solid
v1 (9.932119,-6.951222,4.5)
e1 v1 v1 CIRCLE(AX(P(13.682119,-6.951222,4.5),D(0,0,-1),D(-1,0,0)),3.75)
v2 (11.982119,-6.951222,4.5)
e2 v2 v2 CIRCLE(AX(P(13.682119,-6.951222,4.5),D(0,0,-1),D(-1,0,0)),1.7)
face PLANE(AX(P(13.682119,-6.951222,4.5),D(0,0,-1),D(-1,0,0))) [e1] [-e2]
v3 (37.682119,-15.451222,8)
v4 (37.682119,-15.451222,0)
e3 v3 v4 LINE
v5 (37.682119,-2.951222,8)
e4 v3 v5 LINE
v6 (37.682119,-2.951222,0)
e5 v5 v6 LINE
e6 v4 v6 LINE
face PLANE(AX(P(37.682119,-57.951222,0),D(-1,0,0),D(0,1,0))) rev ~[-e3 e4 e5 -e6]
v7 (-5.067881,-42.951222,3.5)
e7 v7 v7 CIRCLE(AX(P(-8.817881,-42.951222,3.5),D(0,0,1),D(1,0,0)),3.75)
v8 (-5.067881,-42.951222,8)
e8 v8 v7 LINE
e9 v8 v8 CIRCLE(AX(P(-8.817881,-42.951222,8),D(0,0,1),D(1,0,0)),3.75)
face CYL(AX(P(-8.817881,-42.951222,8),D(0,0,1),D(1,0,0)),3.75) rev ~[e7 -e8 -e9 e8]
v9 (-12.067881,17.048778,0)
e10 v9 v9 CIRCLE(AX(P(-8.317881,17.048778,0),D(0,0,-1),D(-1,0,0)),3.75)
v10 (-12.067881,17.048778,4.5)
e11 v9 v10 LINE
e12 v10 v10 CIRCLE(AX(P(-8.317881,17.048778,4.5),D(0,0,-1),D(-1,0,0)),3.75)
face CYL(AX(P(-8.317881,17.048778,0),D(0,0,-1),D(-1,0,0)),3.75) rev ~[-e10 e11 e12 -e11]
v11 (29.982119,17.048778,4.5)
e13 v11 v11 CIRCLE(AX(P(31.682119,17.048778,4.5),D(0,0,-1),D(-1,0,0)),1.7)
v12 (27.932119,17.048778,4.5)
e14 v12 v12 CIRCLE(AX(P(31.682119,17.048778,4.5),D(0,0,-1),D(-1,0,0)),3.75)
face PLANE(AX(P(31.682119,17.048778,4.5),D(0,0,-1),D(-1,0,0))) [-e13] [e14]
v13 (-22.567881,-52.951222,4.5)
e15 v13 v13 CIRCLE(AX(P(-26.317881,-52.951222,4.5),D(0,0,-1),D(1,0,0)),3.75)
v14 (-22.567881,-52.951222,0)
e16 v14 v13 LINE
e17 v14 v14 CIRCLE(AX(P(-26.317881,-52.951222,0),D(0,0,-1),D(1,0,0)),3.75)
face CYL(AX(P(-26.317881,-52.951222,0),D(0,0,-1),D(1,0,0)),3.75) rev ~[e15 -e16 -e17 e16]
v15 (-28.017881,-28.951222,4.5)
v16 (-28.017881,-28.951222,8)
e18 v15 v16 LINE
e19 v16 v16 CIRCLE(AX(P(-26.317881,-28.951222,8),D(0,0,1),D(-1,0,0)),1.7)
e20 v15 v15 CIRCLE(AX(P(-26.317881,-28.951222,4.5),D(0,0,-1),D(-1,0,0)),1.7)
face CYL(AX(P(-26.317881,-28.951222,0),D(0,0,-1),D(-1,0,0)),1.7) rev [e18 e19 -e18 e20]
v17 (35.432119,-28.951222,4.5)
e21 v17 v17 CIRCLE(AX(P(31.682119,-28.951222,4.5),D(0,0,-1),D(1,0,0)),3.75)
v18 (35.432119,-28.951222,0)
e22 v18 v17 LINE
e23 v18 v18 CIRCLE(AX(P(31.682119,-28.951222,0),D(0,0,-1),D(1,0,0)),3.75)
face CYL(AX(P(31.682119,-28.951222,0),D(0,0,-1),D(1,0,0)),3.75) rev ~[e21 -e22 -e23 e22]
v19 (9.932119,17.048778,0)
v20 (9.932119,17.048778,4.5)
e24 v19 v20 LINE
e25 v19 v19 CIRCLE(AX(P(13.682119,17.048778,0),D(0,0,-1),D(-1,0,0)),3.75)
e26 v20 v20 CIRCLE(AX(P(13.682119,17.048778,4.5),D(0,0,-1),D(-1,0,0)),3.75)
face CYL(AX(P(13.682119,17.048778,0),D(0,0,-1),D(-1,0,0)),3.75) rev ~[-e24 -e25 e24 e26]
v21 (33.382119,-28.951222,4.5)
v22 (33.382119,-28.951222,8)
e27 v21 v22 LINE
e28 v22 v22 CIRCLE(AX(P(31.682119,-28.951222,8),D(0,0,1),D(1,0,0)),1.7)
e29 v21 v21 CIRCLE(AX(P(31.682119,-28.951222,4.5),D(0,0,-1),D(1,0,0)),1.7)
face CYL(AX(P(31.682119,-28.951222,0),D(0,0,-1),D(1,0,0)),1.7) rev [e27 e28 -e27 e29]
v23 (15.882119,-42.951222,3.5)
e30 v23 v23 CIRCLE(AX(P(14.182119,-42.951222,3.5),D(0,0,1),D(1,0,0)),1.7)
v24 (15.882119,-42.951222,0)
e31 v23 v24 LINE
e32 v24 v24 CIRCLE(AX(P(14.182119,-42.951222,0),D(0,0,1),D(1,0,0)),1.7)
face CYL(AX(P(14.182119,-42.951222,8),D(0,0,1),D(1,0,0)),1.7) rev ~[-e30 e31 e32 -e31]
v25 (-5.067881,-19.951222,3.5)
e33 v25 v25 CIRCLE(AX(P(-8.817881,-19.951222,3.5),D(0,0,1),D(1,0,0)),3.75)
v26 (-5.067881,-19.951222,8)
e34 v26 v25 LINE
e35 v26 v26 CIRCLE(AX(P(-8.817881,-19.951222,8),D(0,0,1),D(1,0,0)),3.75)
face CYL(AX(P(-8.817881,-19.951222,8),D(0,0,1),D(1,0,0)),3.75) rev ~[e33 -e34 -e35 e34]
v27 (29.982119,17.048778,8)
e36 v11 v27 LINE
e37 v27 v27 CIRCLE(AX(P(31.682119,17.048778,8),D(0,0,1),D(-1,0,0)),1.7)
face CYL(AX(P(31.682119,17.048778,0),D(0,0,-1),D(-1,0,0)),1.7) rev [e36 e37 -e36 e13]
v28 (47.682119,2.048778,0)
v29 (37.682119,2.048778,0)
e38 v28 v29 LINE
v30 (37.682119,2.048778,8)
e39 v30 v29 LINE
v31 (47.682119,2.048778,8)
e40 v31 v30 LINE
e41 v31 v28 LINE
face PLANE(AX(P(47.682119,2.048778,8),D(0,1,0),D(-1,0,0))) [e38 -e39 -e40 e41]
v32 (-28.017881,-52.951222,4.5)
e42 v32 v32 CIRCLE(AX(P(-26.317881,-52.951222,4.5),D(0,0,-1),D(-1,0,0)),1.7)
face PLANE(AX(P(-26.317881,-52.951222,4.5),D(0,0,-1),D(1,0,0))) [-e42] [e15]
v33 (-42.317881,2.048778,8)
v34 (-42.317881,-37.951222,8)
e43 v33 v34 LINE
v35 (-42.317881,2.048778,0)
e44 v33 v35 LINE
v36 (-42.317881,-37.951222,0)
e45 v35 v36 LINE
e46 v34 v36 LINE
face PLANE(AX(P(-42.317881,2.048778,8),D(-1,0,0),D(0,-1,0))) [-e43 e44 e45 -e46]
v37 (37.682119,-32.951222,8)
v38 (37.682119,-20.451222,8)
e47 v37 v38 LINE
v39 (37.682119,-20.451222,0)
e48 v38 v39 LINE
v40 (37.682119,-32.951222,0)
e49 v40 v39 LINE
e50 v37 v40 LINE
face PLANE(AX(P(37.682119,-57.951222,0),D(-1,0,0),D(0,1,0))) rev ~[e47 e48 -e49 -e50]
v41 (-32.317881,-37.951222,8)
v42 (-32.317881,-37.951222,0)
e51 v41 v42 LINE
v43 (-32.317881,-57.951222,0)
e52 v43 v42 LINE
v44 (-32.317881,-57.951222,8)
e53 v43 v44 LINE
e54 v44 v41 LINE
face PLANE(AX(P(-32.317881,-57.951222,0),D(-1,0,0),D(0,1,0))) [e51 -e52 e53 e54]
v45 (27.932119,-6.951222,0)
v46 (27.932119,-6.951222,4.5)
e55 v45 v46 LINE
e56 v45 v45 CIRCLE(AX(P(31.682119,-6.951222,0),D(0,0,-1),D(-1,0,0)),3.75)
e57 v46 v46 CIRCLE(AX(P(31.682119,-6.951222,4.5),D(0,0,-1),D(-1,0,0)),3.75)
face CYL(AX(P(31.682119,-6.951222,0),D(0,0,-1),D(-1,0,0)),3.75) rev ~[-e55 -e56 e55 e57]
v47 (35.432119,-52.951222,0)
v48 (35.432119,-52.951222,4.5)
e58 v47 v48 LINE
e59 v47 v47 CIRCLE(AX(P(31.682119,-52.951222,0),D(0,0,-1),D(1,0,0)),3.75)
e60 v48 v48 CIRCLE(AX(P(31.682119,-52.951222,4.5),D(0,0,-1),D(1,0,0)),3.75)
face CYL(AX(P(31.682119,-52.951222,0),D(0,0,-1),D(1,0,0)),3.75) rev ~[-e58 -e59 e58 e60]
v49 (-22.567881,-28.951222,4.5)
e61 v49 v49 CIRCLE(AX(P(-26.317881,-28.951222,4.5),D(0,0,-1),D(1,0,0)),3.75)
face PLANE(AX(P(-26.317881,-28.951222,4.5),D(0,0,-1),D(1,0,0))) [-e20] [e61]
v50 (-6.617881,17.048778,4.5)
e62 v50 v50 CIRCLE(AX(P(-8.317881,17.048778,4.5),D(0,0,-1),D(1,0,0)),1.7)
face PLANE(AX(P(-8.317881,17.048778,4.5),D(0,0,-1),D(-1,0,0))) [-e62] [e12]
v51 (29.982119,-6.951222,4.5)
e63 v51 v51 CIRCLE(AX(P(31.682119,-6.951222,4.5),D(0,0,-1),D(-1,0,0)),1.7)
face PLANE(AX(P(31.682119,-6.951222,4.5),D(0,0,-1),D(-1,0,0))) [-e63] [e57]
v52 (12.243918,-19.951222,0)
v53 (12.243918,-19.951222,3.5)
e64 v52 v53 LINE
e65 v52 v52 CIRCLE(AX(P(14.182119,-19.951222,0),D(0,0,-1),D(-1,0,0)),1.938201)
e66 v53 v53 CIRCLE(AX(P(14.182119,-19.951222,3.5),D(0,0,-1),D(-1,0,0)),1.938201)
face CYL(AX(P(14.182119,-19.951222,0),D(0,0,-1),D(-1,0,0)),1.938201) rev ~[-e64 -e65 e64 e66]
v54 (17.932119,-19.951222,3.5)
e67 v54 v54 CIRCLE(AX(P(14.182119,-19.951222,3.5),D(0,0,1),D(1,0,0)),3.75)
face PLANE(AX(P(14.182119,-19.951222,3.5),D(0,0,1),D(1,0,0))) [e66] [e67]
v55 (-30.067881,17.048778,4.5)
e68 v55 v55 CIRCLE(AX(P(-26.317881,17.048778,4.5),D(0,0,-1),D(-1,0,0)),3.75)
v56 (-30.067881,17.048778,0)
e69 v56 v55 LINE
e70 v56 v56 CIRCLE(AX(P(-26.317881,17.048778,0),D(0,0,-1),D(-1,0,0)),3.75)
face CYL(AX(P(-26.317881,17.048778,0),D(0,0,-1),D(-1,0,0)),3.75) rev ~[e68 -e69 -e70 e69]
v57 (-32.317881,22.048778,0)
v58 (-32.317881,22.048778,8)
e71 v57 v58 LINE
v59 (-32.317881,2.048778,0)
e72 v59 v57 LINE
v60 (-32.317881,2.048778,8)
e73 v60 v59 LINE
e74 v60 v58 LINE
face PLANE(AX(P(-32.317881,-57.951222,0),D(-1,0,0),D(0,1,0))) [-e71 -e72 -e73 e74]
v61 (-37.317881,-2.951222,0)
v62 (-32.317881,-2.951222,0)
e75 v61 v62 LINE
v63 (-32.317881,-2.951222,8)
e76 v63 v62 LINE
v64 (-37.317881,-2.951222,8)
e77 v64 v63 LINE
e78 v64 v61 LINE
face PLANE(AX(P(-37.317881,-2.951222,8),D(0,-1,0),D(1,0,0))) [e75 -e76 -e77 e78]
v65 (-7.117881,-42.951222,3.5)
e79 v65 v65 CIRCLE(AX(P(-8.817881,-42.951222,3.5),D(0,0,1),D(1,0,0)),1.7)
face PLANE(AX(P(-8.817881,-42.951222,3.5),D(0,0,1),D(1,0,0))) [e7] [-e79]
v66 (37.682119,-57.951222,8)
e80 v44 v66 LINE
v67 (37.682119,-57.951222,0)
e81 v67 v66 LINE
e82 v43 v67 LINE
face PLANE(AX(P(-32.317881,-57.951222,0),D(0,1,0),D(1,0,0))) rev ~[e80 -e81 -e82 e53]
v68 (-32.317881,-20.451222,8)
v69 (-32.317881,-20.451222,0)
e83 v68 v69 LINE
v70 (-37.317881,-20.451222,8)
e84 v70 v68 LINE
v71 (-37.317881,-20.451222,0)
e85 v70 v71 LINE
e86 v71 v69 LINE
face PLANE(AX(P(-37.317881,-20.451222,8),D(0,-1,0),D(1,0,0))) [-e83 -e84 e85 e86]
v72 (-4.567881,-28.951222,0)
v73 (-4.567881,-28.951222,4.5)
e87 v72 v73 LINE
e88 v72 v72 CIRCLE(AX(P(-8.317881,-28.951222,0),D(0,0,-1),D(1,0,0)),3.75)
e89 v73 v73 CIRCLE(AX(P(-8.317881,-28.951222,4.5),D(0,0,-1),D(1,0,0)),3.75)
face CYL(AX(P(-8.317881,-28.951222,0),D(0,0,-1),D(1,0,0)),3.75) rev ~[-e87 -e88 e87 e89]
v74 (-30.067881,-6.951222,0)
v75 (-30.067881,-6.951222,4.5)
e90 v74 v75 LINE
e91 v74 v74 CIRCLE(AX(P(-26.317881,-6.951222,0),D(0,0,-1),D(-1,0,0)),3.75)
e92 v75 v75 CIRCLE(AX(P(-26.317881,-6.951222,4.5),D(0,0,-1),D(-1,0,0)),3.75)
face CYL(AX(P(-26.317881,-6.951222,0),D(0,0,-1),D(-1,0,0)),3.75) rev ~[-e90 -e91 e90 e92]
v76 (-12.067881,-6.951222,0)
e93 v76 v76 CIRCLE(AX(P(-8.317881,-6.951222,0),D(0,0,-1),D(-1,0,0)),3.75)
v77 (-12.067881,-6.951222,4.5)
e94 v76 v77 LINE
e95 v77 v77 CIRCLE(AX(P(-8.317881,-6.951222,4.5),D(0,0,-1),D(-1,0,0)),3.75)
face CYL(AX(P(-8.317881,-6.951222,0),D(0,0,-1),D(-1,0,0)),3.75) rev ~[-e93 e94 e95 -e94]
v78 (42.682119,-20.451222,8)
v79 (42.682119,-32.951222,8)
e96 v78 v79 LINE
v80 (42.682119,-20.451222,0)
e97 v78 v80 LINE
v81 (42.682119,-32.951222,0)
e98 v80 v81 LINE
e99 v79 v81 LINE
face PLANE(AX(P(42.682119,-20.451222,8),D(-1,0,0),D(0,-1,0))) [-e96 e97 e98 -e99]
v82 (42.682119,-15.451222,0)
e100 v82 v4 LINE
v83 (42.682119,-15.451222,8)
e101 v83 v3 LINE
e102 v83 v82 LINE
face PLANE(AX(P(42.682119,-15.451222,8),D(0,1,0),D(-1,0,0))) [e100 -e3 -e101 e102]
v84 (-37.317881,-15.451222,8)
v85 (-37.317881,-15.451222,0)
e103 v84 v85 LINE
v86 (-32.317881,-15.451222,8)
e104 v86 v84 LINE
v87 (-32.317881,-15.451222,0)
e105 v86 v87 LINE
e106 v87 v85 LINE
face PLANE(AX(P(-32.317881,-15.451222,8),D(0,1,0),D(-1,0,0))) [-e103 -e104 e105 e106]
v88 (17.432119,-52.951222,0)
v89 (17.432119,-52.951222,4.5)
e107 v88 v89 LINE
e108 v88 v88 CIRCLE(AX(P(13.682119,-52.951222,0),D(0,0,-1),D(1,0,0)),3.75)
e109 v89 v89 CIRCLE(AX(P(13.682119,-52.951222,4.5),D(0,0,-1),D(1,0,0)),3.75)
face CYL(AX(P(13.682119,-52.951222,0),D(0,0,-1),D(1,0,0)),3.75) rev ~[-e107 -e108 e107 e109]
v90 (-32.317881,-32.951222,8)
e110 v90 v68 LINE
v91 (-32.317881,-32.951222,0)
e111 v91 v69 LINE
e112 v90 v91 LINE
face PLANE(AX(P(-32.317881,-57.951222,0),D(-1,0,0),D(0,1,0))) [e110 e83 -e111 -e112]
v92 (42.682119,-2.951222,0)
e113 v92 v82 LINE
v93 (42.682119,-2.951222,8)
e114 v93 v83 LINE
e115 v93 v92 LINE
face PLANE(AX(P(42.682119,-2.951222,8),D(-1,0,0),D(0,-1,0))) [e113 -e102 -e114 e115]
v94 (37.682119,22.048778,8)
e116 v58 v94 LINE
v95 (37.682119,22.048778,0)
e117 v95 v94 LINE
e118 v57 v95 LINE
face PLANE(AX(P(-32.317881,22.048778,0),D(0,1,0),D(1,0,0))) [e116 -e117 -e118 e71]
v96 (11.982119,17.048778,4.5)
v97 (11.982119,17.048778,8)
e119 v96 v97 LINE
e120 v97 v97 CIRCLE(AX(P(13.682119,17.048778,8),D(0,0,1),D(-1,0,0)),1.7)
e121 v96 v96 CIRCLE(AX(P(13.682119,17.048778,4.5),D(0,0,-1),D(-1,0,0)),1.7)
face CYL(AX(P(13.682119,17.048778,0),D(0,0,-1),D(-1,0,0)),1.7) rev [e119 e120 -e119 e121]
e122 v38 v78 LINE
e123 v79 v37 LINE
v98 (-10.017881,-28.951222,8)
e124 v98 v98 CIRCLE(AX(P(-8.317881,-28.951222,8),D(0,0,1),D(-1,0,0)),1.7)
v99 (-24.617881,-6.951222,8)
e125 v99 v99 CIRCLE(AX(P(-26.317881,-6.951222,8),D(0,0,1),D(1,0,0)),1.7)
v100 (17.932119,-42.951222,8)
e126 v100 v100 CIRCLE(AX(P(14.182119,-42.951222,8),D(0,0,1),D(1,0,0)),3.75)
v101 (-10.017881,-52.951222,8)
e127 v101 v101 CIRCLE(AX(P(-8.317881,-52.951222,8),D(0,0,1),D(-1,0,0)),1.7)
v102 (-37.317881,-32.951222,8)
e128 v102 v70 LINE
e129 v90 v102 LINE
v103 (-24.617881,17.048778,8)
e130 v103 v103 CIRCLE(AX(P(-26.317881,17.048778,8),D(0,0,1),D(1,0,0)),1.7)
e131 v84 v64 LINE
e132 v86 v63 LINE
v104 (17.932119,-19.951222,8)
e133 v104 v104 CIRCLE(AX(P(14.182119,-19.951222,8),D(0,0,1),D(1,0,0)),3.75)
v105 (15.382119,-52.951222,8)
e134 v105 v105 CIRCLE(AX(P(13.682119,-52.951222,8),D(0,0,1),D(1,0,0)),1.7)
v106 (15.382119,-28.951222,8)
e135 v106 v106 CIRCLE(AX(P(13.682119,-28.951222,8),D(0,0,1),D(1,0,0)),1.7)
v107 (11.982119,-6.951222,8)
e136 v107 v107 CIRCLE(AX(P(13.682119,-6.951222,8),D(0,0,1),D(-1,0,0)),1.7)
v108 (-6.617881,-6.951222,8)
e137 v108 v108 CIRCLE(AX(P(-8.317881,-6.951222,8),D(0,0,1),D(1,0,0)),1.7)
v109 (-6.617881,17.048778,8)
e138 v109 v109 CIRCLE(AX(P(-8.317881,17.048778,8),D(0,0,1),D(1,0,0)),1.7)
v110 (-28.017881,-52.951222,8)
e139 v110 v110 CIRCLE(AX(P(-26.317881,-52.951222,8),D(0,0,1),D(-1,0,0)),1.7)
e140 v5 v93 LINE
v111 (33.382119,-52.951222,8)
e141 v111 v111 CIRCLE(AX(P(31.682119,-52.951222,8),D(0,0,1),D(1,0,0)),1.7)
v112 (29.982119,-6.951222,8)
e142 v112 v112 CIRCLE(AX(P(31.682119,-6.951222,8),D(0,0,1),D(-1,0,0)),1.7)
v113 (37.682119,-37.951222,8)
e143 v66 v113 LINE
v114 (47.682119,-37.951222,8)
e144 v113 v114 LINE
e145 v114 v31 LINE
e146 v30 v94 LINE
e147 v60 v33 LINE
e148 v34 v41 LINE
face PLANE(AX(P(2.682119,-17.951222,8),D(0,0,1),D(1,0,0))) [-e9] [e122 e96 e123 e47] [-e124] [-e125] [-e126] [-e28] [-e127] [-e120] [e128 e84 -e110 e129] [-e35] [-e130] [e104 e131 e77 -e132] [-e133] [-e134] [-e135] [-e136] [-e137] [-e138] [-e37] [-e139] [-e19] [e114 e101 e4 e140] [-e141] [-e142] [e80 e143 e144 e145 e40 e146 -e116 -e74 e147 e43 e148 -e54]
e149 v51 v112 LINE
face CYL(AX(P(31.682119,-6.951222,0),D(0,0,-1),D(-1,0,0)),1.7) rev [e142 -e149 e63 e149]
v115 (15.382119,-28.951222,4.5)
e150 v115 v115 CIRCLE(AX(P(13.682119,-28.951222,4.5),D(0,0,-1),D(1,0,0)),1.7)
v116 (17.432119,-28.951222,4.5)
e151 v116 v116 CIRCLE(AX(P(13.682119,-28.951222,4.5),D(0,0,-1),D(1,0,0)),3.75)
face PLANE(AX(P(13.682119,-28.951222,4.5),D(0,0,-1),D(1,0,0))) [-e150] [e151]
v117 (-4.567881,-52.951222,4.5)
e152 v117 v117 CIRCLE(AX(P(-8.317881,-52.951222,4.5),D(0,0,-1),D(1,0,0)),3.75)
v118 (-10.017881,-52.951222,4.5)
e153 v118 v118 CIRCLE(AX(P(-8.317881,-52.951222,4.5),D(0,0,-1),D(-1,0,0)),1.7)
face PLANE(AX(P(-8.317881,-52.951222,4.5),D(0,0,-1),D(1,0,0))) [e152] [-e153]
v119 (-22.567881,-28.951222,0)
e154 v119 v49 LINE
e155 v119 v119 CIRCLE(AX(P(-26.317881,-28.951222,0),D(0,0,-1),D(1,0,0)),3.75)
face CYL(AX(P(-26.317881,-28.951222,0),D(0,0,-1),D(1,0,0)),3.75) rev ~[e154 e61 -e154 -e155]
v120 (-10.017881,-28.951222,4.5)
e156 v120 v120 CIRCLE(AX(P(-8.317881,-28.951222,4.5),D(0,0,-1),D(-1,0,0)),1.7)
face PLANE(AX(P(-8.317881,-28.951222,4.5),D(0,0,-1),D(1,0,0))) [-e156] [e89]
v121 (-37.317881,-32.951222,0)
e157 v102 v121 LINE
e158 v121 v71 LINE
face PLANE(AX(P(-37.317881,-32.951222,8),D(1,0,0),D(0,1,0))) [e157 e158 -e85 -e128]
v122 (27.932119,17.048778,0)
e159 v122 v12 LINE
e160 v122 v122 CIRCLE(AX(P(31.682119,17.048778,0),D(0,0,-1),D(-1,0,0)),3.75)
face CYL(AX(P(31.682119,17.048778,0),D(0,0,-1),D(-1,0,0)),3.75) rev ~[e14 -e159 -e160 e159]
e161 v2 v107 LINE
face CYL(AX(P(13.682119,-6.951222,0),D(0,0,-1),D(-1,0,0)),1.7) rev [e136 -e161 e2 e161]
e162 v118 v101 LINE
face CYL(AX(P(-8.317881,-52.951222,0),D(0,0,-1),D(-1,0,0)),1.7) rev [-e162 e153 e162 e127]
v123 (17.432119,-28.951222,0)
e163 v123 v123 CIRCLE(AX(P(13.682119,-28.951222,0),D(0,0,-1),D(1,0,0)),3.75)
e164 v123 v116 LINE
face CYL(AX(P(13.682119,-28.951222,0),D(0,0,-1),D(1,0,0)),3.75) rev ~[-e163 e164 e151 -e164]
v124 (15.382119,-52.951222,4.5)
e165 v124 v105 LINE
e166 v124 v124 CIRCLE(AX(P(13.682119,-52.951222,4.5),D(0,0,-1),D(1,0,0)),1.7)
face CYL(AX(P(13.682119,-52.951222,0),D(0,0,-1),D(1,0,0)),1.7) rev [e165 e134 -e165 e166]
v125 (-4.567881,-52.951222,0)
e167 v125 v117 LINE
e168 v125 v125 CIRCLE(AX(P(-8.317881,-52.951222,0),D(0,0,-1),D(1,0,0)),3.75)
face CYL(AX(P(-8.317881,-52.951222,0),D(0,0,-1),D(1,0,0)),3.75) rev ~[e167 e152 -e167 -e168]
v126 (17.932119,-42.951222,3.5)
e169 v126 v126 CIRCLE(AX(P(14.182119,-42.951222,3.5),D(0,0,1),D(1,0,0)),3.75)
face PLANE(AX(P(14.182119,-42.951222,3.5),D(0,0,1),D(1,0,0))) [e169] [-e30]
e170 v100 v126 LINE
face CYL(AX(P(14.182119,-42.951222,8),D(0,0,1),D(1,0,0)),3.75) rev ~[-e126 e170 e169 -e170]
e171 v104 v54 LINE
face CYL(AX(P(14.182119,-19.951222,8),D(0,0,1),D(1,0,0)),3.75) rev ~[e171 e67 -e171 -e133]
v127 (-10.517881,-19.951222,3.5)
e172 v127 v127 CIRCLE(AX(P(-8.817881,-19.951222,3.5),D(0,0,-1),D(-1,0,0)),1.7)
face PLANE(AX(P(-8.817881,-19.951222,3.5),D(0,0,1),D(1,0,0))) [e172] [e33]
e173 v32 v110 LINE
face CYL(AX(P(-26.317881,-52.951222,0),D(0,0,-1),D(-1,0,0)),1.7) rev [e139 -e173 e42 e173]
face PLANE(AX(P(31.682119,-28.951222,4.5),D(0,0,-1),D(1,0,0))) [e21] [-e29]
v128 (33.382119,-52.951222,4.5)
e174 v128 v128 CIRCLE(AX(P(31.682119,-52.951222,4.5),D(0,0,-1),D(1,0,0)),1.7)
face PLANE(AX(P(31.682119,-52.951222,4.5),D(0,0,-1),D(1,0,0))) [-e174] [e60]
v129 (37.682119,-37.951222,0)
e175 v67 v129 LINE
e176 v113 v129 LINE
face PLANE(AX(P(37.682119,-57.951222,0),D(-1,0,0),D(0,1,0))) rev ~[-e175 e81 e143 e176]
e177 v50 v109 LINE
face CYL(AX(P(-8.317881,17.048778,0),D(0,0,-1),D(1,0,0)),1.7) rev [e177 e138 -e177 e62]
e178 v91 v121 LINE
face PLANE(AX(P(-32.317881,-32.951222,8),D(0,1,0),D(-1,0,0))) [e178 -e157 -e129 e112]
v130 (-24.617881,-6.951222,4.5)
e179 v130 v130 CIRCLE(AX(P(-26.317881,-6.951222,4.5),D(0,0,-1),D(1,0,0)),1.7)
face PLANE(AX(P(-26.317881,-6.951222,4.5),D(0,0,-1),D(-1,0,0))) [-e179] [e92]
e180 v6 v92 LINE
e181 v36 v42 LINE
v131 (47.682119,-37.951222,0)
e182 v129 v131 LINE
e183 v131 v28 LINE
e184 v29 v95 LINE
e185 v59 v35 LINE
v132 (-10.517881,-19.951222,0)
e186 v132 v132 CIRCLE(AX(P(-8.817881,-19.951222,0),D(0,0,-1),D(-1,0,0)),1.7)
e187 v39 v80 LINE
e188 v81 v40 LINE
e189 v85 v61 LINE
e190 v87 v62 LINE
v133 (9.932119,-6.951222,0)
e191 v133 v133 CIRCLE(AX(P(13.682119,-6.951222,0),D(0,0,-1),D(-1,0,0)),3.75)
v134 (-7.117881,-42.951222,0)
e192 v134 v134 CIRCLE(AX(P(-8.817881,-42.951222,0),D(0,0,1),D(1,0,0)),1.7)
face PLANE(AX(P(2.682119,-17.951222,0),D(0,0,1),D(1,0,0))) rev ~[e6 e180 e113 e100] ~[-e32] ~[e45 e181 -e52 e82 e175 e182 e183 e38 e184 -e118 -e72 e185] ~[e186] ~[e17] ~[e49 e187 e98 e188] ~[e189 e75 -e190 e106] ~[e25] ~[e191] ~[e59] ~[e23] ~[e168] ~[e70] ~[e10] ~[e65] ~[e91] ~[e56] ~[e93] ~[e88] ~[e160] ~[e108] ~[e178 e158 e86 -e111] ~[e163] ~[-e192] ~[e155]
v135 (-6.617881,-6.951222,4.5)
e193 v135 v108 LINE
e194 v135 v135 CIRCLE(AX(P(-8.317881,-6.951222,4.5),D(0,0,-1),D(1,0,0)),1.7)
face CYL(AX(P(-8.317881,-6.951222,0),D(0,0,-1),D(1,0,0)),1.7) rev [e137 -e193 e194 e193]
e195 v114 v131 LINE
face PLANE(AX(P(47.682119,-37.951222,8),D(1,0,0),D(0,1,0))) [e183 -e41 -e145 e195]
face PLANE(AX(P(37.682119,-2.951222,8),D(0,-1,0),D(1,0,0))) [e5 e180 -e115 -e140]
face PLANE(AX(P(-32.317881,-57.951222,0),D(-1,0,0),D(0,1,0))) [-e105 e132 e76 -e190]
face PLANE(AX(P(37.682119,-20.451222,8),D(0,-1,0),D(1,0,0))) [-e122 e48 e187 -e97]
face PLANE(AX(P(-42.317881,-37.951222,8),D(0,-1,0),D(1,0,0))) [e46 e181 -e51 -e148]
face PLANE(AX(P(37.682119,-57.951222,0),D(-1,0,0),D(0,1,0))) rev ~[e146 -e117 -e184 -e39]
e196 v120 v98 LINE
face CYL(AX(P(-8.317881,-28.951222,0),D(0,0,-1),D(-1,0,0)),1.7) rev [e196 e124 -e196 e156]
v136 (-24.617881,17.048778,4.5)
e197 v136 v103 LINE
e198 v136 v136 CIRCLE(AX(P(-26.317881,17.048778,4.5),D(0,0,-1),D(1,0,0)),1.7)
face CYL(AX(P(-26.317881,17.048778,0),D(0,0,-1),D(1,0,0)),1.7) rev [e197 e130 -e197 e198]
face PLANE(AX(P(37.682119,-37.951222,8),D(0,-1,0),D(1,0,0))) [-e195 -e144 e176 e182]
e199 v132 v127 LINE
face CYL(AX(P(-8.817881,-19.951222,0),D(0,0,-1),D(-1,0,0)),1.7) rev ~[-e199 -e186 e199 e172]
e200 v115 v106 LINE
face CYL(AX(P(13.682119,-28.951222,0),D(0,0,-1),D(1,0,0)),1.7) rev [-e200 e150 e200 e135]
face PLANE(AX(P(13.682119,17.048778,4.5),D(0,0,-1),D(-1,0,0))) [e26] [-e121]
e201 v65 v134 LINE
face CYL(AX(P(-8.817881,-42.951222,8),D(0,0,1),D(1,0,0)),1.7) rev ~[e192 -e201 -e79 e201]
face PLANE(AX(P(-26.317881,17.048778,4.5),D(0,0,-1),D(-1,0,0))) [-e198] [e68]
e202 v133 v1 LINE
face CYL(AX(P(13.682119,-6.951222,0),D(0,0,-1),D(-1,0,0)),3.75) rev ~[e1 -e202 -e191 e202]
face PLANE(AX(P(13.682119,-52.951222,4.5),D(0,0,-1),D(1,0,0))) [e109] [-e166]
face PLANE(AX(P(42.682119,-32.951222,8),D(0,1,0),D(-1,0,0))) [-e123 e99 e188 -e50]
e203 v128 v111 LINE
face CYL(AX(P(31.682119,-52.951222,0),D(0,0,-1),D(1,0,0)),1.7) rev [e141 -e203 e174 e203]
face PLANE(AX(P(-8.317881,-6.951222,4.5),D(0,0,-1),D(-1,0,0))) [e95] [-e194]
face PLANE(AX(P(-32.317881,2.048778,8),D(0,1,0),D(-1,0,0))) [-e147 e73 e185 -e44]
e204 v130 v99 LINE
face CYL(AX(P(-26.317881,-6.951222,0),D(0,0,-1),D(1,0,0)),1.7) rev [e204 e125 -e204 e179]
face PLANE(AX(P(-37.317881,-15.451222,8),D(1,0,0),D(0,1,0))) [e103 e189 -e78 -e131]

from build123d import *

# Parameters (mm, degrees)
SKETCH_1_W          = 70
SKETCH_1_H          = 80
SKETCH_1_R          = 1.7
EXTRUDE_1_DEPTH     = 8
SKETCH_2_R          = 3.75
CUT_EXTRUDE_1_DEPTH = 4.5
EXTRUDE_2_DEPTH     = 8
SKETCH_4_R          = 1.7
CUT_EXTRUDE_2_DEPTH = 20
SKETCH_6_R          = 3.75
CUT_EXTRUDE_4_DEPTH = 4.5
SKETCH_7_R          = 1.938201366
SKETCH_7_R_2        = 1.7
CUT_EXTRUDE_5_DEPTH = 10
SKETCH_8_R          = 3.75
CUT_EXTRUDE_6_DEPTH = 4.5


with BuildPart() as part:
    # 草图1 → 凸台-拉伸1 (new body)
    with BuildSketch(Plane.XY):
        with Locations((2.682119205, -17.951221502)):
            Rectangle(SKETCH_1_W, SKETCH_1_H)
        with Locations((-26.317880795, 17.048778498)):
            Circle(SKETCH_1_R, mode=Mode.SUBTRACT)
        with Locations((-8.317880795, 17.048778498)):
            Circle(SKETCH_1_R, mode=Mode.SUBTRACT)
        with Locations((-26.317880795, -6.951221502)):
            Circle(SKETCH_1_R, mode=Mode.SUBTRACT)
        with Locations((-8.317880795, -6.951221502)):
            Circle(SKETCH_1_R, mode=Mode.SUBTRACT)
        with Locations(Location((31.682119205, -6.951221502, 0), (0, 0, 180))):
            Circle(SKETCH_1_R, mode=Mode.SUBTRACT)
        with Locations(Location((13.682119205, -6.951221502, 0), (0, 0, 180))):
            Circle(SKETCH_1_R, mode=Mode.SUBTRACT)
        with Locations(Location((13.682119205, 17.048778498, 0), (0, 0, 180))):
            Circle(SKETCH_1_R, mode=Mode.SUBTRACT)
        with Locations(Location((31.682119205, 17.048778498, 0), (0, 0, 180))):
            Circle(SKETCH_1_R, mode=Mode.SUBTRACT)
        with Locations((13.682119205, -28.951221502)):
            Circle(SKETCH_1_R, mode=Mode.SUBTRACT)
        with Locations((31.682119205, -28.951221502)):
            Circle(SKETCH_1_R, mode=Mode.SUBTRACT)
        with Locations((31.682119205, -52.951221502)):
            Circle(SKETCH_1_R, mode=Mode.SUBTRACT)
        with Locations((13.682119205, -52.951221502)):
            Circle(SKETCH_1_R, mode=Mode.SUBTRACT)
        with Locations(Location((-26.317880795, -28.951221502, 0), (0, 0, 180))):
            Circle(SKETCH_1_R, mode=Mode.SUBTRACT)
        with Locations(Location((-8.317880795, -28.951221502, 0), (0, 0, 180))):
            Circle(SKETCH_1_R, mode=Mode.SUBTRACT)
        with Locations(Location((-8.317880795, -52.951221502, 0), (0, 0, 180))):
            Circle(SKETCH_1_R, mode=Mode.SUBTRACT)
        with Locations(Location((-26.317880795, -52.951221502, 0), (0, 0, 180))):
            Circle(SKETCH_1_R, mode=Mode.SUBTRACT)
    extrude(amount=EXTRUDE_1_DEPTH)

    # 草图2 → 切除-拉伸1 (cut)
    with BuildSketch(Plane(origin=(0, 0, 0), x_dir=(-1, 0, 0), z_dir=(0, 0, -1))):
        with Locations((-31.682119205, 17.048778498)):
            Circle(SKETCH_2_R)
        with Locations((-13.682119205, 17.048778498)):
            Circle(SKETCH_2_R)
        with Locations((8.317880795, 17.048778498)):
            Circle(SKETCH_2_R)
        with Locations((26.317880795, 17.048778498)):
            Circle(SKETCH_2_R)
        with Locations((-31.682119205, -6.951221502)):
            Circle(SKETCH_2_R)
        with Locations((-13.682119205, -6.951221502)):
            Circle(SKETCH_2_R)
        with Locations((8.317880795, -6.951221502)):
            Circle(SKETCH_2_R)
        with Locations((26.317880795, -6.951221502)):
            Circle(SKETCH_2_R)
        with Locations(Location((-31.682119205, -28.951221502, 0), (0, 0, 180))):
            Circle(SKETCH_2_R)
        with Locations(Location((-13.682119205, -28.951221502, 0), (0, 0, 180))):
            Circle(SKETCH_2_R)
        with Locations(Location((8.317880795, -28.951221502, 0), (0, 0, 180))):
            Circle(SKETCH_2_R)
        with Locations(Location((26.317880795, -28.951221502, 0), (0, 0, 180))):
            Circle(SKETCH_2_R)
        with Locations(Location((26.317880795, -52.951221502, 0), (0, 0, 180))):
            Circle(SKETCH_2_R)
        with Locations(Location((8.317880795, -52.951221502, 0), (0, 0, 180))):
            Circle(SKETCH_2_R)
        with Locations(Location((-13.682119205, -52.951221502, 0), (0, 0, 180))):
            Circle(SKETCH_2_R)
        with Locations(Location((-31.682119205, -52.951221502, 0), (0, 0, 180))):
            Circle(SKETCH_2_R)
    extrude(amount=-CUT_EXTRUDE_1_DEPTH, mode=Mode.SUBTRACT)

    # 草图3 → 凸台-拉伸2 (add)
    with BuildSketch(Plane.XY.offset(8)):
        Polygon((47.682119205, 2.048778498), (37.682119205, 2.048778498), (37.682119205, -2.951221502), (42.682119205, -2.951221502), (42.682119205, -15.451221502), (37.682119205, -15.451221502), (37.682119205, -20.451221502), (42.682119205, -20.451221502), (42.682119205, -32.951221502), (37.682119205, -32.951221502), (37.682119205, -37.951221502), (47.682119205, -37.951221502), align=None)
        Polygon((-32.317880795, -37.951221502), (-32.317880795, -32.951221502), (-37.317880795, -32.951221502), (-37.317880795, -20.451221502), (-32.317880795, -20.451221502), (-32.317880795, -15.451221502), (-37.317880795, -15.451221502), (-37.317880795, -2.951221502), (-32.317880795, -2.951221502), (-32.317880795, 2.048778498), (-42.317880795, 2.048778498), (-42.317880795, -37.951221502), align=None)
    extrude(amount=-EXTRUDE_2_DEPTH)

    # 草图4 → 切除-拉伸2 (cut)
    with BuildSketch(Plane.XY.offset(8)):
        with Locations((-8.817880795, -42.951221502)):
            Circle(SKETCH_4_R)
        with Locations((14.182119205, -42.951221502)):
            Circle(SKETCH_4_R)
    extrude(amount=-CUT_EXTRUDE_2_DEPTH, mode=Mode.SUBTRACT)

    # 草图6 → 切除-拉伸4 (cut)
    with BuildSketch(Plane.XY.offset(8)):
        with Locations((-8.817880795, -42.951221502)):
            Circle(SKETCH_6_R)
        with Locations((14.182119205, -42.951221502)):
            Circle(SKETCH_6_R)
    extrude(amount=-CUT_EXTRUDE_4_DEPTH, mode=Mode.SUBTRACT)

    # 草图7 → 切除-拉伸5 (cut)
    with BuildSketch(Plane(origin=(0, 0, 0), x_dir=(-1, 0, 0), z_dir=(0, 0, -1))):
        with Locations((-14.182119205, -19.951221502)):
            Circle(SKETCH_7_R)
        with Locations((8.817880795, -19.951221502)):
            Circle(SKETCH_7_R_2)
    extrude(amount=-CUT_EXTRUDE_5_DEPTH, mode=Mode.SUBTRACT)

    # 草图8 → 切除-拉伸6 (cut)
    with BuildSketch(Plane.XY.offset(8)):
        with Locations((-8.817880795, -19.951221502)):
            Circle(SKETCH_8_R)
        with Locations((14.182119205, -19.951221502)):
            Circle(SKETCH_8_R)
    extrude(amount=-CUT_EXTRUDE_6_DEPTH, mode=Mode.SUBTRACT)


solid = part.part
